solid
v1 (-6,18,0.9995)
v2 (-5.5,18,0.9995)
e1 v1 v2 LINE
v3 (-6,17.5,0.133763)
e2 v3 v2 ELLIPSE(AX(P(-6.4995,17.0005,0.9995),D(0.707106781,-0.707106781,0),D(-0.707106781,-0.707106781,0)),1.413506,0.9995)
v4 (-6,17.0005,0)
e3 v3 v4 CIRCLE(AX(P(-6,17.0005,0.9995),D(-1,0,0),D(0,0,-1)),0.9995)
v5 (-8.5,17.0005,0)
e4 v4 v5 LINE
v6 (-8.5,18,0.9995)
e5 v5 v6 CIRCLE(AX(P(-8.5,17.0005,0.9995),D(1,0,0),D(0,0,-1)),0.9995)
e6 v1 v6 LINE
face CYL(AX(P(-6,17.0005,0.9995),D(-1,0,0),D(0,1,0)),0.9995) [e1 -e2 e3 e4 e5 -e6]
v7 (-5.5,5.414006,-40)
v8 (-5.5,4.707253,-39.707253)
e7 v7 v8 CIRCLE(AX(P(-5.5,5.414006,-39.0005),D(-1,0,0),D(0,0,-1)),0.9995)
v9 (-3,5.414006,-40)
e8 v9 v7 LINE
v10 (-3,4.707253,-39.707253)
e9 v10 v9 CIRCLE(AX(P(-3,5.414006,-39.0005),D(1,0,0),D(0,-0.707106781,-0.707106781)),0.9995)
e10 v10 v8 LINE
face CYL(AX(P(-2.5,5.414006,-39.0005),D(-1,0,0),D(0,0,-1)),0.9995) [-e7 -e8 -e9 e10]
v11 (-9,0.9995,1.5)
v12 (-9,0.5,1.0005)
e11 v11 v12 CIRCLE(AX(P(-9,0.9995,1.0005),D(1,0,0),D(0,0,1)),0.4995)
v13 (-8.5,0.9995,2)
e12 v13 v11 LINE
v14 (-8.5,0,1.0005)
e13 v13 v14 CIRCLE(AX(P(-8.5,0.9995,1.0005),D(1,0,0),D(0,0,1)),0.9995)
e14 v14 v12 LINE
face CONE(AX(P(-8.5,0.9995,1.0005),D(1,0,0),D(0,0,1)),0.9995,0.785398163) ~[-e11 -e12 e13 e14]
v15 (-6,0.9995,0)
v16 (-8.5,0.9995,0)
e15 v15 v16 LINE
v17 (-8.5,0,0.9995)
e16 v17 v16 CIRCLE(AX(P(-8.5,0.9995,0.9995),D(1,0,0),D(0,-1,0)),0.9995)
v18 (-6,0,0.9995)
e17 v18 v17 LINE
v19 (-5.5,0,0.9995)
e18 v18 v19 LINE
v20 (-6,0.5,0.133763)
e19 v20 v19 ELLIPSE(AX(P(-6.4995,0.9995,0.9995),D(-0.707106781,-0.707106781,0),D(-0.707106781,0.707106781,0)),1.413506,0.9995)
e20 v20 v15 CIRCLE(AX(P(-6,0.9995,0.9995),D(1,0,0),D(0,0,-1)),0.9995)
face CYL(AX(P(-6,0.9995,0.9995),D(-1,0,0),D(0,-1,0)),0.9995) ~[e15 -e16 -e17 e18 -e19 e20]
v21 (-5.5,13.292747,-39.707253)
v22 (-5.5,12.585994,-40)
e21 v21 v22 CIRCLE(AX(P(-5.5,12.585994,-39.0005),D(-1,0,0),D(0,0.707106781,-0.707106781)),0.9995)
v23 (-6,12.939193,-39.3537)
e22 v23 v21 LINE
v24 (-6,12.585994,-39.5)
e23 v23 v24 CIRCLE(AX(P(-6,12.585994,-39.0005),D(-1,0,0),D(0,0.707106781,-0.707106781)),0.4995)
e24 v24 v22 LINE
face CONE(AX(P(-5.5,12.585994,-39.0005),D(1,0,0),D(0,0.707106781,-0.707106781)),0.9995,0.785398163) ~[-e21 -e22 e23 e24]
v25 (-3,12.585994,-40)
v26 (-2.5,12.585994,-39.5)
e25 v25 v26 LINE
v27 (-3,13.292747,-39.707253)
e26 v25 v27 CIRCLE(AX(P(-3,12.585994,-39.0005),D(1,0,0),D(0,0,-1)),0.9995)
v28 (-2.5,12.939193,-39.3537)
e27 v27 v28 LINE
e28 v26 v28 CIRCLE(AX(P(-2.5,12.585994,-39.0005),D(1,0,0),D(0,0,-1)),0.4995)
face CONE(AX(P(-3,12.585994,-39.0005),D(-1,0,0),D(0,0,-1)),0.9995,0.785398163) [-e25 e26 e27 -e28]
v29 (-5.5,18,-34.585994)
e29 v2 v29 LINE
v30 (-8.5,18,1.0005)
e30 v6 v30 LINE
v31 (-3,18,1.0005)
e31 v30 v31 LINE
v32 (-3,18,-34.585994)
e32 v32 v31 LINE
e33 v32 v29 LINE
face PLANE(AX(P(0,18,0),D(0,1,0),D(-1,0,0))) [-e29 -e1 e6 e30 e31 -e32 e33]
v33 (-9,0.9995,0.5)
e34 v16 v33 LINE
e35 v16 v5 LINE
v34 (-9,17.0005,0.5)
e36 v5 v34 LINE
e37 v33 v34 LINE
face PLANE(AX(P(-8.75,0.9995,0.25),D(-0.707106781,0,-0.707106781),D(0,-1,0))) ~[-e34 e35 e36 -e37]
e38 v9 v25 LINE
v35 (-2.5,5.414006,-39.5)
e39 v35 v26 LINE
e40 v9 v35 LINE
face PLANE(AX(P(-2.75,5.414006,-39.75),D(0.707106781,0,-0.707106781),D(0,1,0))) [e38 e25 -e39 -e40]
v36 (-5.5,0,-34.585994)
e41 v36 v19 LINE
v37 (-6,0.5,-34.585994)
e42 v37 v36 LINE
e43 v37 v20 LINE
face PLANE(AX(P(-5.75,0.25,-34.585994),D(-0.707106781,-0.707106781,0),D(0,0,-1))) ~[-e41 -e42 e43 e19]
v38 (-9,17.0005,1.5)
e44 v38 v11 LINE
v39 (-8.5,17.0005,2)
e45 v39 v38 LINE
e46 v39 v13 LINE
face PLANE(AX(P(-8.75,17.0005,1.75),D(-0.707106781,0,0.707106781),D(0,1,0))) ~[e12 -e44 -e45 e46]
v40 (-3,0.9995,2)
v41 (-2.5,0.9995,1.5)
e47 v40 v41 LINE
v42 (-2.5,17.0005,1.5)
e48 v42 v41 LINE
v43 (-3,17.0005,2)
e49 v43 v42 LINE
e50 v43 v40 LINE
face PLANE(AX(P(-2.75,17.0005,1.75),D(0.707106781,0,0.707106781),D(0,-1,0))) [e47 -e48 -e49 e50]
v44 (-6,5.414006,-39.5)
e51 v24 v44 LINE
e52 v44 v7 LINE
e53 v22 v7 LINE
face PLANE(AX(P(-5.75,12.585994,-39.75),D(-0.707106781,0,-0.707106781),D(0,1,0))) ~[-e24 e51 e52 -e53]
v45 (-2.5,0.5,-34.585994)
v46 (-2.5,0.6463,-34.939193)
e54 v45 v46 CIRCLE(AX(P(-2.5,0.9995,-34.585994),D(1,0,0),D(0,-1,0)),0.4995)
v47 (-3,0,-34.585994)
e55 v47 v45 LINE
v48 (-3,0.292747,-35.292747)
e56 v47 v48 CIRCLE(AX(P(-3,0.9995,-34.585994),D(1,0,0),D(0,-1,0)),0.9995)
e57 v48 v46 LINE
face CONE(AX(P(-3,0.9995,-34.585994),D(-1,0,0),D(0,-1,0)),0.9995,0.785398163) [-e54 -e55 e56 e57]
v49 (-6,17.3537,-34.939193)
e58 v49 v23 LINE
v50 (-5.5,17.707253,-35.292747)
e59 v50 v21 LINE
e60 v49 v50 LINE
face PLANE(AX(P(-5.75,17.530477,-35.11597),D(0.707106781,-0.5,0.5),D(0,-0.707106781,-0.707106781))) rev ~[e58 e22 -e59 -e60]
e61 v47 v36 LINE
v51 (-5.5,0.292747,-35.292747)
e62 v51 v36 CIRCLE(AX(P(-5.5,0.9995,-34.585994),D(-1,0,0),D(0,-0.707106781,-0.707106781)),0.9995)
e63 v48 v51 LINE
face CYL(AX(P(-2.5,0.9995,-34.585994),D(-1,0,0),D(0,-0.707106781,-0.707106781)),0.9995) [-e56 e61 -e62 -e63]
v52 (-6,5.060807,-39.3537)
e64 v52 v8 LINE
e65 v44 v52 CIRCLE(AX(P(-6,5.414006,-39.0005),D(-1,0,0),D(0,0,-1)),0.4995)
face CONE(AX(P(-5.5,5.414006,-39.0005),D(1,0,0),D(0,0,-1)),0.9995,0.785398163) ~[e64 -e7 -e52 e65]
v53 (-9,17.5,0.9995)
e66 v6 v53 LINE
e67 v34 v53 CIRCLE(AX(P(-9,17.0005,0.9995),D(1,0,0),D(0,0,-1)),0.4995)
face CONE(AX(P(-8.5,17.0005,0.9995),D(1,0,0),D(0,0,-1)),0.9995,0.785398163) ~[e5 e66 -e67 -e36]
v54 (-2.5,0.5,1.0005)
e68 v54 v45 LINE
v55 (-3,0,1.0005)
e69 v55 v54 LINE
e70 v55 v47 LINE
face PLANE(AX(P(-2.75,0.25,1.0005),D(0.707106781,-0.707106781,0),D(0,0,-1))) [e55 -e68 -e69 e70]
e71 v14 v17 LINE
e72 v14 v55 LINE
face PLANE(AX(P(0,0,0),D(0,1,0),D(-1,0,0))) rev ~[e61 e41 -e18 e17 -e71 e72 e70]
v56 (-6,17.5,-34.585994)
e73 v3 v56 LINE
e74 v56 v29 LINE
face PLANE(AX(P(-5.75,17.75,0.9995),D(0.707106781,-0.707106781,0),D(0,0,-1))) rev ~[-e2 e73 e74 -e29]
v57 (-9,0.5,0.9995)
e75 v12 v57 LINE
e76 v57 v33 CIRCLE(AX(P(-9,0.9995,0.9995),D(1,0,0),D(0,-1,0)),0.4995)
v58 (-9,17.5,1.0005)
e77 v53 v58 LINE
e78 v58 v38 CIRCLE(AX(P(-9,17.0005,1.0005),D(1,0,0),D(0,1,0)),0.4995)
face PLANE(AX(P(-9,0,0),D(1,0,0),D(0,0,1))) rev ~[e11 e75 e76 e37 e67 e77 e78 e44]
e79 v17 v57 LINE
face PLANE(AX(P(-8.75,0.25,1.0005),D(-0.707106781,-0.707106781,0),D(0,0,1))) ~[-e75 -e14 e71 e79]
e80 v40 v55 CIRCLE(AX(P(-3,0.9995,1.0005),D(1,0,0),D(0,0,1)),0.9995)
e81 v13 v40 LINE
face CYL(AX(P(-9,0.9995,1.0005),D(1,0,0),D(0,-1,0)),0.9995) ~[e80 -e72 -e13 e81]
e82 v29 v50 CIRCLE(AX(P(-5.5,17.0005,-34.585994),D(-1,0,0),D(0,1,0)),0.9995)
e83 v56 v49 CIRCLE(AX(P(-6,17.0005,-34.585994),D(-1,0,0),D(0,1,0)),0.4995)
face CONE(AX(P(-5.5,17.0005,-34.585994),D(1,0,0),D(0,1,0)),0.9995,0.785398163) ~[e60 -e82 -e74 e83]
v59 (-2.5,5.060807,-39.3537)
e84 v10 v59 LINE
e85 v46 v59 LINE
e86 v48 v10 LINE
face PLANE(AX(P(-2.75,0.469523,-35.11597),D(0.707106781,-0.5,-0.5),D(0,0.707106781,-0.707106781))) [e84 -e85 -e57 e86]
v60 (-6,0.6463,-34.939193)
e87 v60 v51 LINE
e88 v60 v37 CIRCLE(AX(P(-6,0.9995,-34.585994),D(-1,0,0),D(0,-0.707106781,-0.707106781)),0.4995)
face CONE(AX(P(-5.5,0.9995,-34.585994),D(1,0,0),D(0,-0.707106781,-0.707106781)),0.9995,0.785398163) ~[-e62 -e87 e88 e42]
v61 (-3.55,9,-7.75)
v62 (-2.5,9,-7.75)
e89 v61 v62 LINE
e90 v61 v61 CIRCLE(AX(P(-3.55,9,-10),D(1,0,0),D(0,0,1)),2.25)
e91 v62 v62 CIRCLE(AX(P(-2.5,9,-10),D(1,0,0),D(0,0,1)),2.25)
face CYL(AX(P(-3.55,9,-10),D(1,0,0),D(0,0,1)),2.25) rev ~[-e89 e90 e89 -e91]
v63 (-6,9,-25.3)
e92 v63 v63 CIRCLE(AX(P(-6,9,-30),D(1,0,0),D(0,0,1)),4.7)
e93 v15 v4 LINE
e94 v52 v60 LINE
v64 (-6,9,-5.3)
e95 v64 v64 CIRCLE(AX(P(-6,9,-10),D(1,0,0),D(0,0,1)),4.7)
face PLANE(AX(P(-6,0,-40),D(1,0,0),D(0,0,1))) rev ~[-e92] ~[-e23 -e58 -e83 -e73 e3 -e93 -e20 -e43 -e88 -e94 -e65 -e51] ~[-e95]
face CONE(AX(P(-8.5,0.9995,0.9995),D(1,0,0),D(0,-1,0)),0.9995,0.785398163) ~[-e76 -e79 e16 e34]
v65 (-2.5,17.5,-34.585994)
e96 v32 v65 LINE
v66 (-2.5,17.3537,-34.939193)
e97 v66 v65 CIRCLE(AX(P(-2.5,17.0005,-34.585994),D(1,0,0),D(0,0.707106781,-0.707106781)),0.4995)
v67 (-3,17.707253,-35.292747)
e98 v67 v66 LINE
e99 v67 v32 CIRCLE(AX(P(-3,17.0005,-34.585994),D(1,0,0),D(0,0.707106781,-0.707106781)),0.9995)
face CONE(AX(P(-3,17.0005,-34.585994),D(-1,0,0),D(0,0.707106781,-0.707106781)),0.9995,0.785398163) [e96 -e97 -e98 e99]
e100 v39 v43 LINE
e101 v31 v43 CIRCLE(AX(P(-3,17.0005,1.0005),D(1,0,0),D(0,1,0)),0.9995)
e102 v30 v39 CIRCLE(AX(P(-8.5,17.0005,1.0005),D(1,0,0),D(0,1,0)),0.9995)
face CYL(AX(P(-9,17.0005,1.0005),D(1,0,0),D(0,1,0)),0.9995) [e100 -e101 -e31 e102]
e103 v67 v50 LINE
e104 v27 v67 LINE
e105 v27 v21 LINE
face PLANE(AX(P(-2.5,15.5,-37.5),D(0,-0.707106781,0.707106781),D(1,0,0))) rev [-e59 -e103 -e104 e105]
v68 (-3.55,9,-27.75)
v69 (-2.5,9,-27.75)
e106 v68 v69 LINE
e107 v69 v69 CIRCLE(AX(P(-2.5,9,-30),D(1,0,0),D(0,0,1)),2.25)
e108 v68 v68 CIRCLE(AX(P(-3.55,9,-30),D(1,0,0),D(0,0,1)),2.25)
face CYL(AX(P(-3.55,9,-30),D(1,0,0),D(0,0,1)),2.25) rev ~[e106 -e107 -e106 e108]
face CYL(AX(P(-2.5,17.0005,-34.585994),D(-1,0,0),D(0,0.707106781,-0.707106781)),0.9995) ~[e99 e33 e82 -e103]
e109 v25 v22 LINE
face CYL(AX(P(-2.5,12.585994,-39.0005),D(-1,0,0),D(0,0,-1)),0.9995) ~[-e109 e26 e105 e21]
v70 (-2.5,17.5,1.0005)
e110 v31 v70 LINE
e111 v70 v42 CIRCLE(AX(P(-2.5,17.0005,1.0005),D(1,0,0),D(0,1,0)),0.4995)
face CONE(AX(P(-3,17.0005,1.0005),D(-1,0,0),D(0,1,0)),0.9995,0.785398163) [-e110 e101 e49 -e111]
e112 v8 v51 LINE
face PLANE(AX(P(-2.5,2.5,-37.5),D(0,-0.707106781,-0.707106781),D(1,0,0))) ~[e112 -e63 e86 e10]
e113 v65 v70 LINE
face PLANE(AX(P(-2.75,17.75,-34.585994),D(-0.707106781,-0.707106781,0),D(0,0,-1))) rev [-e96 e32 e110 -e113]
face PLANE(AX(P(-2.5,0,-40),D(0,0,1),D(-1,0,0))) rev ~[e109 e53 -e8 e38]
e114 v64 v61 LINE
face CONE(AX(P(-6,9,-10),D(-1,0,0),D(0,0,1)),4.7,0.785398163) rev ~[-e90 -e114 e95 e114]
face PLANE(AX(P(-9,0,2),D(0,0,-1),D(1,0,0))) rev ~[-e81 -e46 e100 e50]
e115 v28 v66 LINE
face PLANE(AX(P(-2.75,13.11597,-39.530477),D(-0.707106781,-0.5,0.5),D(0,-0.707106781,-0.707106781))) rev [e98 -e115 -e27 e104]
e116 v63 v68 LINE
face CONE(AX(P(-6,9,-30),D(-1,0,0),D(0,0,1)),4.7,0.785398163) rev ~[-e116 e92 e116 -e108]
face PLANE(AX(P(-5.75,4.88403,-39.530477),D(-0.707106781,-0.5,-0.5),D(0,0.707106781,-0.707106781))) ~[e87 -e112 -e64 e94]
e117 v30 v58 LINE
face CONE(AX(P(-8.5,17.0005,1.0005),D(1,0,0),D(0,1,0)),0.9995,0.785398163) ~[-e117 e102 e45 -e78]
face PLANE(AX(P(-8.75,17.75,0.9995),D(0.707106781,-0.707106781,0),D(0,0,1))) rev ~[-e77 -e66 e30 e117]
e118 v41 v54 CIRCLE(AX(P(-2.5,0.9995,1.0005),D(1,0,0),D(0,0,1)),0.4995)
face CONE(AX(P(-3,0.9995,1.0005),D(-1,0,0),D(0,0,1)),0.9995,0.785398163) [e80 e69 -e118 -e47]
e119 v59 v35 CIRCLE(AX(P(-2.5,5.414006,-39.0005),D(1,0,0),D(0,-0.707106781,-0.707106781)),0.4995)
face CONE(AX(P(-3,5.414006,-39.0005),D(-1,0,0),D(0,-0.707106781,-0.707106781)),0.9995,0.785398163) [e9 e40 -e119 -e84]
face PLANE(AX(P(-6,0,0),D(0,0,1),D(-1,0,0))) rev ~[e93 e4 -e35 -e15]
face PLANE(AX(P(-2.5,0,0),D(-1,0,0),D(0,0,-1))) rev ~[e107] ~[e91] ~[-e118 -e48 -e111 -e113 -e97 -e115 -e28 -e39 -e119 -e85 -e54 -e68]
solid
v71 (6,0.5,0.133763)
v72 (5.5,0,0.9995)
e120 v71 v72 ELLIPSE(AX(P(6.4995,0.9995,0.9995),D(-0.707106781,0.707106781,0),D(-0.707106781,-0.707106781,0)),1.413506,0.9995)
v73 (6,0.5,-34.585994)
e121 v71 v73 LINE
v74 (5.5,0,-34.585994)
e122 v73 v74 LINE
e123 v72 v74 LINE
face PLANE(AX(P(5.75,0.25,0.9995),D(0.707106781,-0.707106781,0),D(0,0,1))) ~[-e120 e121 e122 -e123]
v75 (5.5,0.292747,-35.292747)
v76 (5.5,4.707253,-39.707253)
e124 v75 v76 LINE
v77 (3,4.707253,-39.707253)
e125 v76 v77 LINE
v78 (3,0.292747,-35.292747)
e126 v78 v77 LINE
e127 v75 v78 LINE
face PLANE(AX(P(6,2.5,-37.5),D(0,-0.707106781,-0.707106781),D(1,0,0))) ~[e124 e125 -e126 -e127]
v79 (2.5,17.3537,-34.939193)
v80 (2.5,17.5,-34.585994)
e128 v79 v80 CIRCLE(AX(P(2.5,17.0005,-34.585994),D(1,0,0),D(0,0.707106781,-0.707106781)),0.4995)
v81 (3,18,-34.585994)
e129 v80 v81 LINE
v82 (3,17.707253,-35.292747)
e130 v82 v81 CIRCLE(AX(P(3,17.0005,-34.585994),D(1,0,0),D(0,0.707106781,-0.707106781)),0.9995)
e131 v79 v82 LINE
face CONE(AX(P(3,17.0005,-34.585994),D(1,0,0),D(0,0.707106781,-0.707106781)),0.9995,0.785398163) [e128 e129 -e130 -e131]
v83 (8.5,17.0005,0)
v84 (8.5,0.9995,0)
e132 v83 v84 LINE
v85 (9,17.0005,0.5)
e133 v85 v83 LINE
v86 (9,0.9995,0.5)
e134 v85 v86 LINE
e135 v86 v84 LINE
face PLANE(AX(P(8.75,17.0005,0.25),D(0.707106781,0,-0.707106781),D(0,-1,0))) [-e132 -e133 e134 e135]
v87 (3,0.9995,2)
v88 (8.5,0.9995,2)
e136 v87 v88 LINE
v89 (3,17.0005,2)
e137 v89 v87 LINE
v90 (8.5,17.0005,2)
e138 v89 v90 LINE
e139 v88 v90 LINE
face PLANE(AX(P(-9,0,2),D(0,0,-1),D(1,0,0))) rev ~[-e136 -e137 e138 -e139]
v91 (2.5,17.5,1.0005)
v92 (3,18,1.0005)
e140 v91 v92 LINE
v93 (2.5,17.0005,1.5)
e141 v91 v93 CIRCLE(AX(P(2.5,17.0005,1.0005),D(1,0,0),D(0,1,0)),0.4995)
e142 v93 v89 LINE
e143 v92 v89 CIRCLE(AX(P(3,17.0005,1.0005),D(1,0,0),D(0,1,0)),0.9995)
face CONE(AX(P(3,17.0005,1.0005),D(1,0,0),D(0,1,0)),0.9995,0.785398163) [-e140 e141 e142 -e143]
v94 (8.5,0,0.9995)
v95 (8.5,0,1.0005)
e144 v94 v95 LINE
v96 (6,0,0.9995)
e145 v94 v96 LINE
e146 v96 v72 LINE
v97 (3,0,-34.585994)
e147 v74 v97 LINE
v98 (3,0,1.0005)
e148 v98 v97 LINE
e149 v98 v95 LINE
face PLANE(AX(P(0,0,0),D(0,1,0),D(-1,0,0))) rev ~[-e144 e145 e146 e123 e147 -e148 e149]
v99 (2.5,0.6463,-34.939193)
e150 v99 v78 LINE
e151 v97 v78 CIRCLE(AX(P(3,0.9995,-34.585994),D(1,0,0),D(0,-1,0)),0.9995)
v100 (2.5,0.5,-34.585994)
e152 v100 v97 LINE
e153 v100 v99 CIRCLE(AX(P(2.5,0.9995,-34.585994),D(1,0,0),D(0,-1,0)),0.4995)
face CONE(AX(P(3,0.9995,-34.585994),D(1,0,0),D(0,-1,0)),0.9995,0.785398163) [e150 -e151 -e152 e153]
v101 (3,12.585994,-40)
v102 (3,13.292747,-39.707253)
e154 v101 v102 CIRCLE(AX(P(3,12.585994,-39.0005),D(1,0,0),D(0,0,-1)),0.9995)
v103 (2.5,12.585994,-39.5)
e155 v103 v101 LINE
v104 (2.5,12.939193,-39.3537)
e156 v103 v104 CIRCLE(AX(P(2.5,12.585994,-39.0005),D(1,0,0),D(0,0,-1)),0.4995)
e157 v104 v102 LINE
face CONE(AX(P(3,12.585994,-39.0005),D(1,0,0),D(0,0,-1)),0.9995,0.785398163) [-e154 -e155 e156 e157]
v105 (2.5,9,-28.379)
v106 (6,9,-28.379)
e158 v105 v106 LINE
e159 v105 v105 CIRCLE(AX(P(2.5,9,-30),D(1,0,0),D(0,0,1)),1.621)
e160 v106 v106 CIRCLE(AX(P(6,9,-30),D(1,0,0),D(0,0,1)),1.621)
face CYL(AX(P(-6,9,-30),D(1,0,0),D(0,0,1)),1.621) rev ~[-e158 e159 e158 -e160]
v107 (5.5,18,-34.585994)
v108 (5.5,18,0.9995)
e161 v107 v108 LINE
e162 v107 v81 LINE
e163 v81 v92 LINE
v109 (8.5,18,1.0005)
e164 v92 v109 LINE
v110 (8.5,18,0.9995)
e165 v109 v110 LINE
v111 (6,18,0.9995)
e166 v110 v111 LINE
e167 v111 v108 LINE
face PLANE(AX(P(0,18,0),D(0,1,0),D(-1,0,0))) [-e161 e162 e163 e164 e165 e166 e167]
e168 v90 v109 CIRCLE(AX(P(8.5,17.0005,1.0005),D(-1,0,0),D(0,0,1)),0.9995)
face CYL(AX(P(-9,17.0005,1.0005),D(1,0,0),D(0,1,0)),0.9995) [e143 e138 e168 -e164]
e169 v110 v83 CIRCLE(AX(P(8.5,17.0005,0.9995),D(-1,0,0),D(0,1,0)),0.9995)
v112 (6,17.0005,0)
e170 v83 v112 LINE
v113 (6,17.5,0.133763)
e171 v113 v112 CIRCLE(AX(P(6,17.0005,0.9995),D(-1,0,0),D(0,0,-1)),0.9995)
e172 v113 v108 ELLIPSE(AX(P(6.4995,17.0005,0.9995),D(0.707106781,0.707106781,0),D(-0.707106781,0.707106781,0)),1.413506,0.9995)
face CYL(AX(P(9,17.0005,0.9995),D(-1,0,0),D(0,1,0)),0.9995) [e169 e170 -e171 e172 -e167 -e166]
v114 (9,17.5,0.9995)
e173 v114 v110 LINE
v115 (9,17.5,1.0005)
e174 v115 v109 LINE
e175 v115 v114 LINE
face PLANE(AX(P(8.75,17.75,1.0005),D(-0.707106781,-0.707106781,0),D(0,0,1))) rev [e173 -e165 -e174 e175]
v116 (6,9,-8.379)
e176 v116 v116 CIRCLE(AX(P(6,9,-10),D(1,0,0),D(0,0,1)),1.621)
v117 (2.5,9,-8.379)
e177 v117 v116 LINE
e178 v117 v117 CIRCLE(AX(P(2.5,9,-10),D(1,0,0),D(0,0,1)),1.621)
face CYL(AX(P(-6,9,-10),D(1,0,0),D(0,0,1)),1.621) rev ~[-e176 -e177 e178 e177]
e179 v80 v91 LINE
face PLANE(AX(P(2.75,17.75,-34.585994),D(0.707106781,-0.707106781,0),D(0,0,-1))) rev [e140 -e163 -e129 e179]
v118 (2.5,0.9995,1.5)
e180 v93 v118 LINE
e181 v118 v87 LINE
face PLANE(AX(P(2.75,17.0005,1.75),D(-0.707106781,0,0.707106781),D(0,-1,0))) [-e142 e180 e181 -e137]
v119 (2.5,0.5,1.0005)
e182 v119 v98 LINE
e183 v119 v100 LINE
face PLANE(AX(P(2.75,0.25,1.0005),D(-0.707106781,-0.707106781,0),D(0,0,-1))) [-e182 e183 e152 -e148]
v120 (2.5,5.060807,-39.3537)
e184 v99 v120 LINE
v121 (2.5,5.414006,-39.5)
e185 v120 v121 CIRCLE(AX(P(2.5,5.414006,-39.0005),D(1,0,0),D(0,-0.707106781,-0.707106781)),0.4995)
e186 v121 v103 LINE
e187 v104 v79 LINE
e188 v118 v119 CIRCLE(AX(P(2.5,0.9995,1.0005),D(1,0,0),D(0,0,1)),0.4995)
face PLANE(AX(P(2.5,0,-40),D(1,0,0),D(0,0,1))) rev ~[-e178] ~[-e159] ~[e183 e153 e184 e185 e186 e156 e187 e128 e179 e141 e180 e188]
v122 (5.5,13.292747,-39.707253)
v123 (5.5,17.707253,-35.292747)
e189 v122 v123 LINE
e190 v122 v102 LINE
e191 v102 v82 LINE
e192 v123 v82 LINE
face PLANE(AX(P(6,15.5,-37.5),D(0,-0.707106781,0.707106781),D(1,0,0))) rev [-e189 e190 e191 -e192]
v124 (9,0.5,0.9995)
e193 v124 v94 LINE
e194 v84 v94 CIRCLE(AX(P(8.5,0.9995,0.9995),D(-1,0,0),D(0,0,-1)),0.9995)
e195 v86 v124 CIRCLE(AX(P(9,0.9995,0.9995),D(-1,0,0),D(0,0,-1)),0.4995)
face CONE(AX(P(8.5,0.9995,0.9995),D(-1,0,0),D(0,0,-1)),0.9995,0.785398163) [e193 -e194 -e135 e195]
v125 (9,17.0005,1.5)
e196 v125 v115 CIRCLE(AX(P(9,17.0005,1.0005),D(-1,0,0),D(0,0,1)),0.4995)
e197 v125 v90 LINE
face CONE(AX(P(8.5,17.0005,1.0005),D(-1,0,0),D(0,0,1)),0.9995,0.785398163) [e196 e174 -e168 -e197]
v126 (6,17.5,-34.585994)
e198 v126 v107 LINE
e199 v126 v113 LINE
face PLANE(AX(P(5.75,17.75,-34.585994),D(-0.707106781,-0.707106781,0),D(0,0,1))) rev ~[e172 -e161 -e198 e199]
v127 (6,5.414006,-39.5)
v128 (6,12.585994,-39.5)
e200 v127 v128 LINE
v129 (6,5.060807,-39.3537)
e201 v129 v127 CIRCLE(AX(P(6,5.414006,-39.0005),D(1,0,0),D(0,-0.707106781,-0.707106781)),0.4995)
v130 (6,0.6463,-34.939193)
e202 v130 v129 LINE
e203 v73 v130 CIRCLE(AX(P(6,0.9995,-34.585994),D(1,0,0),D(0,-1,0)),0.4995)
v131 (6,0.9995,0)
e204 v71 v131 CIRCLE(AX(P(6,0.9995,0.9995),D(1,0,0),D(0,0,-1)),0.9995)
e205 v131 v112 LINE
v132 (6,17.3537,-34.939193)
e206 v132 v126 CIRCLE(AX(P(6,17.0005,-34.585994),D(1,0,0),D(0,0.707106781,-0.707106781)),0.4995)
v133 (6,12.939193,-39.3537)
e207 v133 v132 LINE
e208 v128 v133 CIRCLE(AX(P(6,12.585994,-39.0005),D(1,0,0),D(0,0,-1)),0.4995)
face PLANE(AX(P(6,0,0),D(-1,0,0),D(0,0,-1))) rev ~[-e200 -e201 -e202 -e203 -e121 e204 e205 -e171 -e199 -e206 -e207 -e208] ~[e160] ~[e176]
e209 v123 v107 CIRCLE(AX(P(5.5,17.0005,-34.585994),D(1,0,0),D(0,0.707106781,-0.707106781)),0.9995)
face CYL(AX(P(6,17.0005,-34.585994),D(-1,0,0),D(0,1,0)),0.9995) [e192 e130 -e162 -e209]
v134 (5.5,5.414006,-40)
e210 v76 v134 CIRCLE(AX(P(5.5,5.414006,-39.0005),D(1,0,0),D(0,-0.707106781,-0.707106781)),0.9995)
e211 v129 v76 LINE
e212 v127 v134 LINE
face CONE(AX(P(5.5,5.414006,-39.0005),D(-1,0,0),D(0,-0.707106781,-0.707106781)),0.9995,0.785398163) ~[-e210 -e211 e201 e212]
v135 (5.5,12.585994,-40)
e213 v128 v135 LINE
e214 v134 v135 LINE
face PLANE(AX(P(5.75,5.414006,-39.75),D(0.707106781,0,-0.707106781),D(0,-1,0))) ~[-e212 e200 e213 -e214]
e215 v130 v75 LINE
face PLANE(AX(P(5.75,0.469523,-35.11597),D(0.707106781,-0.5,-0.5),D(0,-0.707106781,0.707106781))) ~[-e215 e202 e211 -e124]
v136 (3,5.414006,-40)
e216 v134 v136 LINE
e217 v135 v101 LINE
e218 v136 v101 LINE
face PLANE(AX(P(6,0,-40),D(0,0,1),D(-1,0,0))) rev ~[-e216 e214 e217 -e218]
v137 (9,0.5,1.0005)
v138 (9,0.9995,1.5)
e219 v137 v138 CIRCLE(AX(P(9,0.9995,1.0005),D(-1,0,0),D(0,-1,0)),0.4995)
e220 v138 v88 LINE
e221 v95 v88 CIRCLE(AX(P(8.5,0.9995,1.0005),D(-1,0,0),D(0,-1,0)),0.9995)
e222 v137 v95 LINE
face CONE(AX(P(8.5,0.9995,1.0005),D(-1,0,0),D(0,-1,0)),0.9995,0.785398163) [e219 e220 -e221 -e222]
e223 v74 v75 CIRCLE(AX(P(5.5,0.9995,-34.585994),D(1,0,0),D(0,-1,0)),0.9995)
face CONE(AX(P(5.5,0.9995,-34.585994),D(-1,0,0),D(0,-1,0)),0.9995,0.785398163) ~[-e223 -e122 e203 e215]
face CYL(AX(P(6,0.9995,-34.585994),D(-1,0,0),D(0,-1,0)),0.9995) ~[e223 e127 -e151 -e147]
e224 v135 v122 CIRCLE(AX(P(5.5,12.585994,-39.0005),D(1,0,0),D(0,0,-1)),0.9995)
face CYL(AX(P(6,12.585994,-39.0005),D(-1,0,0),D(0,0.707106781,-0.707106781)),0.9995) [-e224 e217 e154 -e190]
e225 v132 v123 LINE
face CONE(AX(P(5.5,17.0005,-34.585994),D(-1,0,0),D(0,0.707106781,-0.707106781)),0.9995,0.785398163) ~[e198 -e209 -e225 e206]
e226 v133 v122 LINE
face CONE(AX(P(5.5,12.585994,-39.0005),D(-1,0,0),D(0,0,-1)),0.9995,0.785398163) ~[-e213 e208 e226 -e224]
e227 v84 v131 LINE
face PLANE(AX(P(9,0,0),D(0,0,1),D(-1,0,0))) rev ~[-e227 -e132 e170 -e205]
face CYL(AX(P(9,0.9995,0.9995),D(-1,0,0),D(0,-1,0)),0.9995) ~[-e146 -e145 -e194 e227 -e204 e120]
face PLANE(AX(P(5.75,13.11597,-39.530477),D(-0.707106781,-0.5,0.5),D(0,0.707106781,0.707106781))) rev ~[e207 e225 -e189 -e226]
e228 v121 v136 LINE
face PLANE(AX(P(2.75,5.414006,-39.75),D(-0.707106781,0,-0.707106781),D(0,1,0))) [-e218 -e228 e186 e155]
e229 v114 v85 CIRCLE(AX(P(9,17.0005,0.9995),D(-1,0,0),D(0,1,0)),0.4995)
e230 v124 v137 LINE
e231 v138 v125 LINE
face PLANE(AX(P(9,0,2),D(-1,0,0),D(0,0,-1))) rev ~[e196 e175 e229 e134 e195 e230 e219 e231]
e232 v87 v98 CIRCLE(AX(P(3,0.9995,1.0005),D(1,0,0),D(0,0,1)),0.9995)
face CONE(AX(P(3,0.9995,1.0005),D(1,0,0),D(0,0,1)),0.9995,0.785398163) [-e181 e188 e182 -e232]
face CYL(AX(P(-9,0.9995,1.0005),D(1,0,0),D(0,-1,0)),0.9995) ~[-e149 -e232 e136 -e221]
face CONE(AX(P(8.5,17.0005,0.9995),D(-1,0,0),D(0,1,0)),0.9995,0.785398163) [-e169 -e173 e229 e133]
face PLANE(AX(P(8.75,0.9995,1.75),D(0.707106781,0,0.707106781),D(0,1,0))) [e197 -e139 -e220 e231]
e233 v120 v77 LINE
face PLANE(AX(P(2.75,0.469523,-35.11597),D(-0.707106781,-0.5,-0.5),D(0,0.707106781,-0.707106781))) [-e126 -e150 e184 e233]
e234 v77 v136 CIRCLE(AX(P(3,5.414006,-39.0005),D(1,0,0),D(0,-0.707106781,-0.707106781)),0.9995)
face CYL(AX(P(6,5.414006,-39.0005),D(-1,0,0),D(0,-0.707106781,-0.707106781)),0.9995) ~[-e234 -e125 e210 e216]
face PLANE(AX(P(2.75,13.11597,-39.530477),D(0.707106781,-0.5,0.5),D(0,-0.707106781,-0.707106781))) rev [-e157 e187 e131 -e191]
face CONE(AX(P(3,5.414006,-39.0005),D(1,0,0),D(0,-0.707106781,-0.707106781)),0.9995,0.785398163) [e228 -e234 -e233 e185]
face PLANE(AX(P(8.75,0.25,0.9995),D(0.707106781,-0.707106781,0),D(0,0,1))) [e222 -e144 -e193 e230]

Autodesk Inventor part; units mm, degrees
ref_plane "YZ Plane" through (0, 0, 0) normal (1, 0, 0) x (0, 1, 0)
ref_plane "XZ Plane" through (0, 0, 0) normal (0, 1, 0) x (-1, 0, 0)
ref_plane "XY Plane" through (0, 0, 0) normal (0, 0, 1) x (1, 0, 0)
sketch "Skizze1" plane through (0, 0, 0) normal (0, 1, 0) x (-1, 0, 0)
  line L0 (9, 2) -> (-9, 2)
  line L1 (-9, 2) -> (-9, 0)
  line L2 (-9, 0) -> (-6, 0)
  line L3 (-6, 0) -> (-6, -40)
  line L4 (-6, -40) -> (-2.5, -40)
  line L5 (-2.5, -40) -> (-2.5, 0)
  line L6 (-2.5, 0) -> (2.5, 0)
  line L7 (2.5, 0) -> (2.5, -40)
  line L8 (2.5, -40) -> (6, -40)
  line L9 (6, -40) -> (6, 0)
  line L10 (6, 0) -> (9, 0)
  line L11 (9, 0) -> (9, 2)
  point P0 (0, 0)
  point P1 (0, 0)
  dimension "d0" = 3
  dimension "d1" = 5
  dimension "d2" = 2
  dimension "d3" = 3.5
  dimension "d4" = 40
extrude "Extrusion1" add sketch "Skizze1" along normal blind 18
chamfer "Fasen3" distance 5 angle 45 4 edges at (-4.25, 18, -40) (4.25, 18, -40) (4.25, 0, -40) (-4.25, 0, -40)
fillet "Rundung3" radius 1 16 edges at (-4.25, 18, -35) (-4.25, 13, -40) (-4.25, 5, -40) (-4.25, 0, -35) (4.25, 0, -35) (4.25, 5, -40) (4.25, 13, -40) (4.25, 18, -35) (0, 18, 0) (7.5, 18, 0) (0, 18, 2) (-7.5, 18, 0) (-7.5, 0, 0) (0, 0, 2) (0, 0, 0) (7.5, 0, 0)
sketch "Skizze3" plane through (-6, 0, -34.5858) normal (-1, 0, 0) x (0, 0, 1)
  line L0 (34.5858, 1) -> (34.5858, 17) projected
  point P0 (34.5858, 0)
  point P1 (24.5858, 9)
  point P2 (4.5858, 9)
  point P3 (34.5858, 9)
  dimension "d28" = 10
  dimension "d29" = 20
hole "Bohrung2" at (-6, 9, -10) at (-6, 9, -30) direction (1, 0, 0) diameter 3.242 end through all thread size "M4x0.7" class "6H" standard "ISO Metric profile"
hole "Bohrung3" at (-6, 9, -10) at (-6, 9, -30) direction (1, 0, 0) diameter 4.5 depth 3.5 countersink diameter 9.4 countersink angle 90 clearance for "Flachkopfsenkschraube DIN EN ISO 2009" size "M4" standard "DIN"
sketch "Skizze4" plane through (-2.5, 1, 0) normal (1, 0, 0) x (0, 0, -1)
  line L0 (46.0679, 28.7323) -> (-6.5362, 28.7323)
  line L1 (-6.5362, 28.7323) -> (-6.5362, -10.7207)
  line L2 (-6.5362, -10.7207) -> (46.0679, -10.7207)
  line L3 (46.0679, -10.7207) -> (46.0679, 28.7323)
  point P0 (0, -1)
extrude "Extrusion2" cut sketch "Skizze4" along normal up to surface (5 mm away)
chamfer "Fasen4" distance 0.5 angle 45 41 edges at (-2.5, 9, -40) (-2.5, 12.9685, -39.9239) (-2.5, 15.5, -37.5) (-2.5, 17.9239, -34.9685) (-2.5, 18, -16.7927) (-2.5, 0, -16.7927) (-2.5, 0.0761, -34.9685) (-2.5, 2.5, -37.5) (-2.5, 5.0315, -39.9239) (2.5, 5.0315, -39.9239) (2.5, 9, -40) (2.5, 12.9685, -39.9239) (2.5, 15.5, -37.5) (2.5, 17.9239, -34.9685) (2.5, 18, -16.7927) (2.5, 0, -16.7927) (2.5, 0.0761, -34.9685) (2.5, 2.5, -37.5) (6, 5.0315, -39.9239) (6, 2.5, -37.5) (6, 0.0761, -34.9685) (6, 0, -16.7932) (6, 9, -40) (6, 12.9685, -39.9239) (6, 15.5, -37.5) (6, 17.9239, -34.9685) (6, 18, -16.7932) (-6, 2.5, -37.5) (-6, 5.0315, -39.9239) (-6, 9, -40) (-6, 12.9685, -39.9239) (-6, 15.5, -37.5) (-6, 17.9239, -34.9685) (-6, 18, -16.7932) (-6, 0.0761, -34.9685) (-6, 0, -16.7932) (9, 9, 2) (9, 9, 0) (-9, 0.2927, 0.2927) (-9, 9, 0) (-9, 9, 2)
equation "\"d_tol\" = 0.3"
equation "\"d_wand\" = 1.5"
equation "\"b_rasp_pi\" = 56"
equation "\"w_kamera_hori\" = 66deg"
equation "\"l_rasp_pi\" = 85"
equation "\"w_kamera_vert\" = 41deg"
equation "\"r_rasp_pi\" = 3"
equation "\"D_oct\" = 3621.32034"
equation "\"D_hexadeca\" = 7541.00924"
equation "\"d_traeger\" = 625"
properties part number "Fuß"
